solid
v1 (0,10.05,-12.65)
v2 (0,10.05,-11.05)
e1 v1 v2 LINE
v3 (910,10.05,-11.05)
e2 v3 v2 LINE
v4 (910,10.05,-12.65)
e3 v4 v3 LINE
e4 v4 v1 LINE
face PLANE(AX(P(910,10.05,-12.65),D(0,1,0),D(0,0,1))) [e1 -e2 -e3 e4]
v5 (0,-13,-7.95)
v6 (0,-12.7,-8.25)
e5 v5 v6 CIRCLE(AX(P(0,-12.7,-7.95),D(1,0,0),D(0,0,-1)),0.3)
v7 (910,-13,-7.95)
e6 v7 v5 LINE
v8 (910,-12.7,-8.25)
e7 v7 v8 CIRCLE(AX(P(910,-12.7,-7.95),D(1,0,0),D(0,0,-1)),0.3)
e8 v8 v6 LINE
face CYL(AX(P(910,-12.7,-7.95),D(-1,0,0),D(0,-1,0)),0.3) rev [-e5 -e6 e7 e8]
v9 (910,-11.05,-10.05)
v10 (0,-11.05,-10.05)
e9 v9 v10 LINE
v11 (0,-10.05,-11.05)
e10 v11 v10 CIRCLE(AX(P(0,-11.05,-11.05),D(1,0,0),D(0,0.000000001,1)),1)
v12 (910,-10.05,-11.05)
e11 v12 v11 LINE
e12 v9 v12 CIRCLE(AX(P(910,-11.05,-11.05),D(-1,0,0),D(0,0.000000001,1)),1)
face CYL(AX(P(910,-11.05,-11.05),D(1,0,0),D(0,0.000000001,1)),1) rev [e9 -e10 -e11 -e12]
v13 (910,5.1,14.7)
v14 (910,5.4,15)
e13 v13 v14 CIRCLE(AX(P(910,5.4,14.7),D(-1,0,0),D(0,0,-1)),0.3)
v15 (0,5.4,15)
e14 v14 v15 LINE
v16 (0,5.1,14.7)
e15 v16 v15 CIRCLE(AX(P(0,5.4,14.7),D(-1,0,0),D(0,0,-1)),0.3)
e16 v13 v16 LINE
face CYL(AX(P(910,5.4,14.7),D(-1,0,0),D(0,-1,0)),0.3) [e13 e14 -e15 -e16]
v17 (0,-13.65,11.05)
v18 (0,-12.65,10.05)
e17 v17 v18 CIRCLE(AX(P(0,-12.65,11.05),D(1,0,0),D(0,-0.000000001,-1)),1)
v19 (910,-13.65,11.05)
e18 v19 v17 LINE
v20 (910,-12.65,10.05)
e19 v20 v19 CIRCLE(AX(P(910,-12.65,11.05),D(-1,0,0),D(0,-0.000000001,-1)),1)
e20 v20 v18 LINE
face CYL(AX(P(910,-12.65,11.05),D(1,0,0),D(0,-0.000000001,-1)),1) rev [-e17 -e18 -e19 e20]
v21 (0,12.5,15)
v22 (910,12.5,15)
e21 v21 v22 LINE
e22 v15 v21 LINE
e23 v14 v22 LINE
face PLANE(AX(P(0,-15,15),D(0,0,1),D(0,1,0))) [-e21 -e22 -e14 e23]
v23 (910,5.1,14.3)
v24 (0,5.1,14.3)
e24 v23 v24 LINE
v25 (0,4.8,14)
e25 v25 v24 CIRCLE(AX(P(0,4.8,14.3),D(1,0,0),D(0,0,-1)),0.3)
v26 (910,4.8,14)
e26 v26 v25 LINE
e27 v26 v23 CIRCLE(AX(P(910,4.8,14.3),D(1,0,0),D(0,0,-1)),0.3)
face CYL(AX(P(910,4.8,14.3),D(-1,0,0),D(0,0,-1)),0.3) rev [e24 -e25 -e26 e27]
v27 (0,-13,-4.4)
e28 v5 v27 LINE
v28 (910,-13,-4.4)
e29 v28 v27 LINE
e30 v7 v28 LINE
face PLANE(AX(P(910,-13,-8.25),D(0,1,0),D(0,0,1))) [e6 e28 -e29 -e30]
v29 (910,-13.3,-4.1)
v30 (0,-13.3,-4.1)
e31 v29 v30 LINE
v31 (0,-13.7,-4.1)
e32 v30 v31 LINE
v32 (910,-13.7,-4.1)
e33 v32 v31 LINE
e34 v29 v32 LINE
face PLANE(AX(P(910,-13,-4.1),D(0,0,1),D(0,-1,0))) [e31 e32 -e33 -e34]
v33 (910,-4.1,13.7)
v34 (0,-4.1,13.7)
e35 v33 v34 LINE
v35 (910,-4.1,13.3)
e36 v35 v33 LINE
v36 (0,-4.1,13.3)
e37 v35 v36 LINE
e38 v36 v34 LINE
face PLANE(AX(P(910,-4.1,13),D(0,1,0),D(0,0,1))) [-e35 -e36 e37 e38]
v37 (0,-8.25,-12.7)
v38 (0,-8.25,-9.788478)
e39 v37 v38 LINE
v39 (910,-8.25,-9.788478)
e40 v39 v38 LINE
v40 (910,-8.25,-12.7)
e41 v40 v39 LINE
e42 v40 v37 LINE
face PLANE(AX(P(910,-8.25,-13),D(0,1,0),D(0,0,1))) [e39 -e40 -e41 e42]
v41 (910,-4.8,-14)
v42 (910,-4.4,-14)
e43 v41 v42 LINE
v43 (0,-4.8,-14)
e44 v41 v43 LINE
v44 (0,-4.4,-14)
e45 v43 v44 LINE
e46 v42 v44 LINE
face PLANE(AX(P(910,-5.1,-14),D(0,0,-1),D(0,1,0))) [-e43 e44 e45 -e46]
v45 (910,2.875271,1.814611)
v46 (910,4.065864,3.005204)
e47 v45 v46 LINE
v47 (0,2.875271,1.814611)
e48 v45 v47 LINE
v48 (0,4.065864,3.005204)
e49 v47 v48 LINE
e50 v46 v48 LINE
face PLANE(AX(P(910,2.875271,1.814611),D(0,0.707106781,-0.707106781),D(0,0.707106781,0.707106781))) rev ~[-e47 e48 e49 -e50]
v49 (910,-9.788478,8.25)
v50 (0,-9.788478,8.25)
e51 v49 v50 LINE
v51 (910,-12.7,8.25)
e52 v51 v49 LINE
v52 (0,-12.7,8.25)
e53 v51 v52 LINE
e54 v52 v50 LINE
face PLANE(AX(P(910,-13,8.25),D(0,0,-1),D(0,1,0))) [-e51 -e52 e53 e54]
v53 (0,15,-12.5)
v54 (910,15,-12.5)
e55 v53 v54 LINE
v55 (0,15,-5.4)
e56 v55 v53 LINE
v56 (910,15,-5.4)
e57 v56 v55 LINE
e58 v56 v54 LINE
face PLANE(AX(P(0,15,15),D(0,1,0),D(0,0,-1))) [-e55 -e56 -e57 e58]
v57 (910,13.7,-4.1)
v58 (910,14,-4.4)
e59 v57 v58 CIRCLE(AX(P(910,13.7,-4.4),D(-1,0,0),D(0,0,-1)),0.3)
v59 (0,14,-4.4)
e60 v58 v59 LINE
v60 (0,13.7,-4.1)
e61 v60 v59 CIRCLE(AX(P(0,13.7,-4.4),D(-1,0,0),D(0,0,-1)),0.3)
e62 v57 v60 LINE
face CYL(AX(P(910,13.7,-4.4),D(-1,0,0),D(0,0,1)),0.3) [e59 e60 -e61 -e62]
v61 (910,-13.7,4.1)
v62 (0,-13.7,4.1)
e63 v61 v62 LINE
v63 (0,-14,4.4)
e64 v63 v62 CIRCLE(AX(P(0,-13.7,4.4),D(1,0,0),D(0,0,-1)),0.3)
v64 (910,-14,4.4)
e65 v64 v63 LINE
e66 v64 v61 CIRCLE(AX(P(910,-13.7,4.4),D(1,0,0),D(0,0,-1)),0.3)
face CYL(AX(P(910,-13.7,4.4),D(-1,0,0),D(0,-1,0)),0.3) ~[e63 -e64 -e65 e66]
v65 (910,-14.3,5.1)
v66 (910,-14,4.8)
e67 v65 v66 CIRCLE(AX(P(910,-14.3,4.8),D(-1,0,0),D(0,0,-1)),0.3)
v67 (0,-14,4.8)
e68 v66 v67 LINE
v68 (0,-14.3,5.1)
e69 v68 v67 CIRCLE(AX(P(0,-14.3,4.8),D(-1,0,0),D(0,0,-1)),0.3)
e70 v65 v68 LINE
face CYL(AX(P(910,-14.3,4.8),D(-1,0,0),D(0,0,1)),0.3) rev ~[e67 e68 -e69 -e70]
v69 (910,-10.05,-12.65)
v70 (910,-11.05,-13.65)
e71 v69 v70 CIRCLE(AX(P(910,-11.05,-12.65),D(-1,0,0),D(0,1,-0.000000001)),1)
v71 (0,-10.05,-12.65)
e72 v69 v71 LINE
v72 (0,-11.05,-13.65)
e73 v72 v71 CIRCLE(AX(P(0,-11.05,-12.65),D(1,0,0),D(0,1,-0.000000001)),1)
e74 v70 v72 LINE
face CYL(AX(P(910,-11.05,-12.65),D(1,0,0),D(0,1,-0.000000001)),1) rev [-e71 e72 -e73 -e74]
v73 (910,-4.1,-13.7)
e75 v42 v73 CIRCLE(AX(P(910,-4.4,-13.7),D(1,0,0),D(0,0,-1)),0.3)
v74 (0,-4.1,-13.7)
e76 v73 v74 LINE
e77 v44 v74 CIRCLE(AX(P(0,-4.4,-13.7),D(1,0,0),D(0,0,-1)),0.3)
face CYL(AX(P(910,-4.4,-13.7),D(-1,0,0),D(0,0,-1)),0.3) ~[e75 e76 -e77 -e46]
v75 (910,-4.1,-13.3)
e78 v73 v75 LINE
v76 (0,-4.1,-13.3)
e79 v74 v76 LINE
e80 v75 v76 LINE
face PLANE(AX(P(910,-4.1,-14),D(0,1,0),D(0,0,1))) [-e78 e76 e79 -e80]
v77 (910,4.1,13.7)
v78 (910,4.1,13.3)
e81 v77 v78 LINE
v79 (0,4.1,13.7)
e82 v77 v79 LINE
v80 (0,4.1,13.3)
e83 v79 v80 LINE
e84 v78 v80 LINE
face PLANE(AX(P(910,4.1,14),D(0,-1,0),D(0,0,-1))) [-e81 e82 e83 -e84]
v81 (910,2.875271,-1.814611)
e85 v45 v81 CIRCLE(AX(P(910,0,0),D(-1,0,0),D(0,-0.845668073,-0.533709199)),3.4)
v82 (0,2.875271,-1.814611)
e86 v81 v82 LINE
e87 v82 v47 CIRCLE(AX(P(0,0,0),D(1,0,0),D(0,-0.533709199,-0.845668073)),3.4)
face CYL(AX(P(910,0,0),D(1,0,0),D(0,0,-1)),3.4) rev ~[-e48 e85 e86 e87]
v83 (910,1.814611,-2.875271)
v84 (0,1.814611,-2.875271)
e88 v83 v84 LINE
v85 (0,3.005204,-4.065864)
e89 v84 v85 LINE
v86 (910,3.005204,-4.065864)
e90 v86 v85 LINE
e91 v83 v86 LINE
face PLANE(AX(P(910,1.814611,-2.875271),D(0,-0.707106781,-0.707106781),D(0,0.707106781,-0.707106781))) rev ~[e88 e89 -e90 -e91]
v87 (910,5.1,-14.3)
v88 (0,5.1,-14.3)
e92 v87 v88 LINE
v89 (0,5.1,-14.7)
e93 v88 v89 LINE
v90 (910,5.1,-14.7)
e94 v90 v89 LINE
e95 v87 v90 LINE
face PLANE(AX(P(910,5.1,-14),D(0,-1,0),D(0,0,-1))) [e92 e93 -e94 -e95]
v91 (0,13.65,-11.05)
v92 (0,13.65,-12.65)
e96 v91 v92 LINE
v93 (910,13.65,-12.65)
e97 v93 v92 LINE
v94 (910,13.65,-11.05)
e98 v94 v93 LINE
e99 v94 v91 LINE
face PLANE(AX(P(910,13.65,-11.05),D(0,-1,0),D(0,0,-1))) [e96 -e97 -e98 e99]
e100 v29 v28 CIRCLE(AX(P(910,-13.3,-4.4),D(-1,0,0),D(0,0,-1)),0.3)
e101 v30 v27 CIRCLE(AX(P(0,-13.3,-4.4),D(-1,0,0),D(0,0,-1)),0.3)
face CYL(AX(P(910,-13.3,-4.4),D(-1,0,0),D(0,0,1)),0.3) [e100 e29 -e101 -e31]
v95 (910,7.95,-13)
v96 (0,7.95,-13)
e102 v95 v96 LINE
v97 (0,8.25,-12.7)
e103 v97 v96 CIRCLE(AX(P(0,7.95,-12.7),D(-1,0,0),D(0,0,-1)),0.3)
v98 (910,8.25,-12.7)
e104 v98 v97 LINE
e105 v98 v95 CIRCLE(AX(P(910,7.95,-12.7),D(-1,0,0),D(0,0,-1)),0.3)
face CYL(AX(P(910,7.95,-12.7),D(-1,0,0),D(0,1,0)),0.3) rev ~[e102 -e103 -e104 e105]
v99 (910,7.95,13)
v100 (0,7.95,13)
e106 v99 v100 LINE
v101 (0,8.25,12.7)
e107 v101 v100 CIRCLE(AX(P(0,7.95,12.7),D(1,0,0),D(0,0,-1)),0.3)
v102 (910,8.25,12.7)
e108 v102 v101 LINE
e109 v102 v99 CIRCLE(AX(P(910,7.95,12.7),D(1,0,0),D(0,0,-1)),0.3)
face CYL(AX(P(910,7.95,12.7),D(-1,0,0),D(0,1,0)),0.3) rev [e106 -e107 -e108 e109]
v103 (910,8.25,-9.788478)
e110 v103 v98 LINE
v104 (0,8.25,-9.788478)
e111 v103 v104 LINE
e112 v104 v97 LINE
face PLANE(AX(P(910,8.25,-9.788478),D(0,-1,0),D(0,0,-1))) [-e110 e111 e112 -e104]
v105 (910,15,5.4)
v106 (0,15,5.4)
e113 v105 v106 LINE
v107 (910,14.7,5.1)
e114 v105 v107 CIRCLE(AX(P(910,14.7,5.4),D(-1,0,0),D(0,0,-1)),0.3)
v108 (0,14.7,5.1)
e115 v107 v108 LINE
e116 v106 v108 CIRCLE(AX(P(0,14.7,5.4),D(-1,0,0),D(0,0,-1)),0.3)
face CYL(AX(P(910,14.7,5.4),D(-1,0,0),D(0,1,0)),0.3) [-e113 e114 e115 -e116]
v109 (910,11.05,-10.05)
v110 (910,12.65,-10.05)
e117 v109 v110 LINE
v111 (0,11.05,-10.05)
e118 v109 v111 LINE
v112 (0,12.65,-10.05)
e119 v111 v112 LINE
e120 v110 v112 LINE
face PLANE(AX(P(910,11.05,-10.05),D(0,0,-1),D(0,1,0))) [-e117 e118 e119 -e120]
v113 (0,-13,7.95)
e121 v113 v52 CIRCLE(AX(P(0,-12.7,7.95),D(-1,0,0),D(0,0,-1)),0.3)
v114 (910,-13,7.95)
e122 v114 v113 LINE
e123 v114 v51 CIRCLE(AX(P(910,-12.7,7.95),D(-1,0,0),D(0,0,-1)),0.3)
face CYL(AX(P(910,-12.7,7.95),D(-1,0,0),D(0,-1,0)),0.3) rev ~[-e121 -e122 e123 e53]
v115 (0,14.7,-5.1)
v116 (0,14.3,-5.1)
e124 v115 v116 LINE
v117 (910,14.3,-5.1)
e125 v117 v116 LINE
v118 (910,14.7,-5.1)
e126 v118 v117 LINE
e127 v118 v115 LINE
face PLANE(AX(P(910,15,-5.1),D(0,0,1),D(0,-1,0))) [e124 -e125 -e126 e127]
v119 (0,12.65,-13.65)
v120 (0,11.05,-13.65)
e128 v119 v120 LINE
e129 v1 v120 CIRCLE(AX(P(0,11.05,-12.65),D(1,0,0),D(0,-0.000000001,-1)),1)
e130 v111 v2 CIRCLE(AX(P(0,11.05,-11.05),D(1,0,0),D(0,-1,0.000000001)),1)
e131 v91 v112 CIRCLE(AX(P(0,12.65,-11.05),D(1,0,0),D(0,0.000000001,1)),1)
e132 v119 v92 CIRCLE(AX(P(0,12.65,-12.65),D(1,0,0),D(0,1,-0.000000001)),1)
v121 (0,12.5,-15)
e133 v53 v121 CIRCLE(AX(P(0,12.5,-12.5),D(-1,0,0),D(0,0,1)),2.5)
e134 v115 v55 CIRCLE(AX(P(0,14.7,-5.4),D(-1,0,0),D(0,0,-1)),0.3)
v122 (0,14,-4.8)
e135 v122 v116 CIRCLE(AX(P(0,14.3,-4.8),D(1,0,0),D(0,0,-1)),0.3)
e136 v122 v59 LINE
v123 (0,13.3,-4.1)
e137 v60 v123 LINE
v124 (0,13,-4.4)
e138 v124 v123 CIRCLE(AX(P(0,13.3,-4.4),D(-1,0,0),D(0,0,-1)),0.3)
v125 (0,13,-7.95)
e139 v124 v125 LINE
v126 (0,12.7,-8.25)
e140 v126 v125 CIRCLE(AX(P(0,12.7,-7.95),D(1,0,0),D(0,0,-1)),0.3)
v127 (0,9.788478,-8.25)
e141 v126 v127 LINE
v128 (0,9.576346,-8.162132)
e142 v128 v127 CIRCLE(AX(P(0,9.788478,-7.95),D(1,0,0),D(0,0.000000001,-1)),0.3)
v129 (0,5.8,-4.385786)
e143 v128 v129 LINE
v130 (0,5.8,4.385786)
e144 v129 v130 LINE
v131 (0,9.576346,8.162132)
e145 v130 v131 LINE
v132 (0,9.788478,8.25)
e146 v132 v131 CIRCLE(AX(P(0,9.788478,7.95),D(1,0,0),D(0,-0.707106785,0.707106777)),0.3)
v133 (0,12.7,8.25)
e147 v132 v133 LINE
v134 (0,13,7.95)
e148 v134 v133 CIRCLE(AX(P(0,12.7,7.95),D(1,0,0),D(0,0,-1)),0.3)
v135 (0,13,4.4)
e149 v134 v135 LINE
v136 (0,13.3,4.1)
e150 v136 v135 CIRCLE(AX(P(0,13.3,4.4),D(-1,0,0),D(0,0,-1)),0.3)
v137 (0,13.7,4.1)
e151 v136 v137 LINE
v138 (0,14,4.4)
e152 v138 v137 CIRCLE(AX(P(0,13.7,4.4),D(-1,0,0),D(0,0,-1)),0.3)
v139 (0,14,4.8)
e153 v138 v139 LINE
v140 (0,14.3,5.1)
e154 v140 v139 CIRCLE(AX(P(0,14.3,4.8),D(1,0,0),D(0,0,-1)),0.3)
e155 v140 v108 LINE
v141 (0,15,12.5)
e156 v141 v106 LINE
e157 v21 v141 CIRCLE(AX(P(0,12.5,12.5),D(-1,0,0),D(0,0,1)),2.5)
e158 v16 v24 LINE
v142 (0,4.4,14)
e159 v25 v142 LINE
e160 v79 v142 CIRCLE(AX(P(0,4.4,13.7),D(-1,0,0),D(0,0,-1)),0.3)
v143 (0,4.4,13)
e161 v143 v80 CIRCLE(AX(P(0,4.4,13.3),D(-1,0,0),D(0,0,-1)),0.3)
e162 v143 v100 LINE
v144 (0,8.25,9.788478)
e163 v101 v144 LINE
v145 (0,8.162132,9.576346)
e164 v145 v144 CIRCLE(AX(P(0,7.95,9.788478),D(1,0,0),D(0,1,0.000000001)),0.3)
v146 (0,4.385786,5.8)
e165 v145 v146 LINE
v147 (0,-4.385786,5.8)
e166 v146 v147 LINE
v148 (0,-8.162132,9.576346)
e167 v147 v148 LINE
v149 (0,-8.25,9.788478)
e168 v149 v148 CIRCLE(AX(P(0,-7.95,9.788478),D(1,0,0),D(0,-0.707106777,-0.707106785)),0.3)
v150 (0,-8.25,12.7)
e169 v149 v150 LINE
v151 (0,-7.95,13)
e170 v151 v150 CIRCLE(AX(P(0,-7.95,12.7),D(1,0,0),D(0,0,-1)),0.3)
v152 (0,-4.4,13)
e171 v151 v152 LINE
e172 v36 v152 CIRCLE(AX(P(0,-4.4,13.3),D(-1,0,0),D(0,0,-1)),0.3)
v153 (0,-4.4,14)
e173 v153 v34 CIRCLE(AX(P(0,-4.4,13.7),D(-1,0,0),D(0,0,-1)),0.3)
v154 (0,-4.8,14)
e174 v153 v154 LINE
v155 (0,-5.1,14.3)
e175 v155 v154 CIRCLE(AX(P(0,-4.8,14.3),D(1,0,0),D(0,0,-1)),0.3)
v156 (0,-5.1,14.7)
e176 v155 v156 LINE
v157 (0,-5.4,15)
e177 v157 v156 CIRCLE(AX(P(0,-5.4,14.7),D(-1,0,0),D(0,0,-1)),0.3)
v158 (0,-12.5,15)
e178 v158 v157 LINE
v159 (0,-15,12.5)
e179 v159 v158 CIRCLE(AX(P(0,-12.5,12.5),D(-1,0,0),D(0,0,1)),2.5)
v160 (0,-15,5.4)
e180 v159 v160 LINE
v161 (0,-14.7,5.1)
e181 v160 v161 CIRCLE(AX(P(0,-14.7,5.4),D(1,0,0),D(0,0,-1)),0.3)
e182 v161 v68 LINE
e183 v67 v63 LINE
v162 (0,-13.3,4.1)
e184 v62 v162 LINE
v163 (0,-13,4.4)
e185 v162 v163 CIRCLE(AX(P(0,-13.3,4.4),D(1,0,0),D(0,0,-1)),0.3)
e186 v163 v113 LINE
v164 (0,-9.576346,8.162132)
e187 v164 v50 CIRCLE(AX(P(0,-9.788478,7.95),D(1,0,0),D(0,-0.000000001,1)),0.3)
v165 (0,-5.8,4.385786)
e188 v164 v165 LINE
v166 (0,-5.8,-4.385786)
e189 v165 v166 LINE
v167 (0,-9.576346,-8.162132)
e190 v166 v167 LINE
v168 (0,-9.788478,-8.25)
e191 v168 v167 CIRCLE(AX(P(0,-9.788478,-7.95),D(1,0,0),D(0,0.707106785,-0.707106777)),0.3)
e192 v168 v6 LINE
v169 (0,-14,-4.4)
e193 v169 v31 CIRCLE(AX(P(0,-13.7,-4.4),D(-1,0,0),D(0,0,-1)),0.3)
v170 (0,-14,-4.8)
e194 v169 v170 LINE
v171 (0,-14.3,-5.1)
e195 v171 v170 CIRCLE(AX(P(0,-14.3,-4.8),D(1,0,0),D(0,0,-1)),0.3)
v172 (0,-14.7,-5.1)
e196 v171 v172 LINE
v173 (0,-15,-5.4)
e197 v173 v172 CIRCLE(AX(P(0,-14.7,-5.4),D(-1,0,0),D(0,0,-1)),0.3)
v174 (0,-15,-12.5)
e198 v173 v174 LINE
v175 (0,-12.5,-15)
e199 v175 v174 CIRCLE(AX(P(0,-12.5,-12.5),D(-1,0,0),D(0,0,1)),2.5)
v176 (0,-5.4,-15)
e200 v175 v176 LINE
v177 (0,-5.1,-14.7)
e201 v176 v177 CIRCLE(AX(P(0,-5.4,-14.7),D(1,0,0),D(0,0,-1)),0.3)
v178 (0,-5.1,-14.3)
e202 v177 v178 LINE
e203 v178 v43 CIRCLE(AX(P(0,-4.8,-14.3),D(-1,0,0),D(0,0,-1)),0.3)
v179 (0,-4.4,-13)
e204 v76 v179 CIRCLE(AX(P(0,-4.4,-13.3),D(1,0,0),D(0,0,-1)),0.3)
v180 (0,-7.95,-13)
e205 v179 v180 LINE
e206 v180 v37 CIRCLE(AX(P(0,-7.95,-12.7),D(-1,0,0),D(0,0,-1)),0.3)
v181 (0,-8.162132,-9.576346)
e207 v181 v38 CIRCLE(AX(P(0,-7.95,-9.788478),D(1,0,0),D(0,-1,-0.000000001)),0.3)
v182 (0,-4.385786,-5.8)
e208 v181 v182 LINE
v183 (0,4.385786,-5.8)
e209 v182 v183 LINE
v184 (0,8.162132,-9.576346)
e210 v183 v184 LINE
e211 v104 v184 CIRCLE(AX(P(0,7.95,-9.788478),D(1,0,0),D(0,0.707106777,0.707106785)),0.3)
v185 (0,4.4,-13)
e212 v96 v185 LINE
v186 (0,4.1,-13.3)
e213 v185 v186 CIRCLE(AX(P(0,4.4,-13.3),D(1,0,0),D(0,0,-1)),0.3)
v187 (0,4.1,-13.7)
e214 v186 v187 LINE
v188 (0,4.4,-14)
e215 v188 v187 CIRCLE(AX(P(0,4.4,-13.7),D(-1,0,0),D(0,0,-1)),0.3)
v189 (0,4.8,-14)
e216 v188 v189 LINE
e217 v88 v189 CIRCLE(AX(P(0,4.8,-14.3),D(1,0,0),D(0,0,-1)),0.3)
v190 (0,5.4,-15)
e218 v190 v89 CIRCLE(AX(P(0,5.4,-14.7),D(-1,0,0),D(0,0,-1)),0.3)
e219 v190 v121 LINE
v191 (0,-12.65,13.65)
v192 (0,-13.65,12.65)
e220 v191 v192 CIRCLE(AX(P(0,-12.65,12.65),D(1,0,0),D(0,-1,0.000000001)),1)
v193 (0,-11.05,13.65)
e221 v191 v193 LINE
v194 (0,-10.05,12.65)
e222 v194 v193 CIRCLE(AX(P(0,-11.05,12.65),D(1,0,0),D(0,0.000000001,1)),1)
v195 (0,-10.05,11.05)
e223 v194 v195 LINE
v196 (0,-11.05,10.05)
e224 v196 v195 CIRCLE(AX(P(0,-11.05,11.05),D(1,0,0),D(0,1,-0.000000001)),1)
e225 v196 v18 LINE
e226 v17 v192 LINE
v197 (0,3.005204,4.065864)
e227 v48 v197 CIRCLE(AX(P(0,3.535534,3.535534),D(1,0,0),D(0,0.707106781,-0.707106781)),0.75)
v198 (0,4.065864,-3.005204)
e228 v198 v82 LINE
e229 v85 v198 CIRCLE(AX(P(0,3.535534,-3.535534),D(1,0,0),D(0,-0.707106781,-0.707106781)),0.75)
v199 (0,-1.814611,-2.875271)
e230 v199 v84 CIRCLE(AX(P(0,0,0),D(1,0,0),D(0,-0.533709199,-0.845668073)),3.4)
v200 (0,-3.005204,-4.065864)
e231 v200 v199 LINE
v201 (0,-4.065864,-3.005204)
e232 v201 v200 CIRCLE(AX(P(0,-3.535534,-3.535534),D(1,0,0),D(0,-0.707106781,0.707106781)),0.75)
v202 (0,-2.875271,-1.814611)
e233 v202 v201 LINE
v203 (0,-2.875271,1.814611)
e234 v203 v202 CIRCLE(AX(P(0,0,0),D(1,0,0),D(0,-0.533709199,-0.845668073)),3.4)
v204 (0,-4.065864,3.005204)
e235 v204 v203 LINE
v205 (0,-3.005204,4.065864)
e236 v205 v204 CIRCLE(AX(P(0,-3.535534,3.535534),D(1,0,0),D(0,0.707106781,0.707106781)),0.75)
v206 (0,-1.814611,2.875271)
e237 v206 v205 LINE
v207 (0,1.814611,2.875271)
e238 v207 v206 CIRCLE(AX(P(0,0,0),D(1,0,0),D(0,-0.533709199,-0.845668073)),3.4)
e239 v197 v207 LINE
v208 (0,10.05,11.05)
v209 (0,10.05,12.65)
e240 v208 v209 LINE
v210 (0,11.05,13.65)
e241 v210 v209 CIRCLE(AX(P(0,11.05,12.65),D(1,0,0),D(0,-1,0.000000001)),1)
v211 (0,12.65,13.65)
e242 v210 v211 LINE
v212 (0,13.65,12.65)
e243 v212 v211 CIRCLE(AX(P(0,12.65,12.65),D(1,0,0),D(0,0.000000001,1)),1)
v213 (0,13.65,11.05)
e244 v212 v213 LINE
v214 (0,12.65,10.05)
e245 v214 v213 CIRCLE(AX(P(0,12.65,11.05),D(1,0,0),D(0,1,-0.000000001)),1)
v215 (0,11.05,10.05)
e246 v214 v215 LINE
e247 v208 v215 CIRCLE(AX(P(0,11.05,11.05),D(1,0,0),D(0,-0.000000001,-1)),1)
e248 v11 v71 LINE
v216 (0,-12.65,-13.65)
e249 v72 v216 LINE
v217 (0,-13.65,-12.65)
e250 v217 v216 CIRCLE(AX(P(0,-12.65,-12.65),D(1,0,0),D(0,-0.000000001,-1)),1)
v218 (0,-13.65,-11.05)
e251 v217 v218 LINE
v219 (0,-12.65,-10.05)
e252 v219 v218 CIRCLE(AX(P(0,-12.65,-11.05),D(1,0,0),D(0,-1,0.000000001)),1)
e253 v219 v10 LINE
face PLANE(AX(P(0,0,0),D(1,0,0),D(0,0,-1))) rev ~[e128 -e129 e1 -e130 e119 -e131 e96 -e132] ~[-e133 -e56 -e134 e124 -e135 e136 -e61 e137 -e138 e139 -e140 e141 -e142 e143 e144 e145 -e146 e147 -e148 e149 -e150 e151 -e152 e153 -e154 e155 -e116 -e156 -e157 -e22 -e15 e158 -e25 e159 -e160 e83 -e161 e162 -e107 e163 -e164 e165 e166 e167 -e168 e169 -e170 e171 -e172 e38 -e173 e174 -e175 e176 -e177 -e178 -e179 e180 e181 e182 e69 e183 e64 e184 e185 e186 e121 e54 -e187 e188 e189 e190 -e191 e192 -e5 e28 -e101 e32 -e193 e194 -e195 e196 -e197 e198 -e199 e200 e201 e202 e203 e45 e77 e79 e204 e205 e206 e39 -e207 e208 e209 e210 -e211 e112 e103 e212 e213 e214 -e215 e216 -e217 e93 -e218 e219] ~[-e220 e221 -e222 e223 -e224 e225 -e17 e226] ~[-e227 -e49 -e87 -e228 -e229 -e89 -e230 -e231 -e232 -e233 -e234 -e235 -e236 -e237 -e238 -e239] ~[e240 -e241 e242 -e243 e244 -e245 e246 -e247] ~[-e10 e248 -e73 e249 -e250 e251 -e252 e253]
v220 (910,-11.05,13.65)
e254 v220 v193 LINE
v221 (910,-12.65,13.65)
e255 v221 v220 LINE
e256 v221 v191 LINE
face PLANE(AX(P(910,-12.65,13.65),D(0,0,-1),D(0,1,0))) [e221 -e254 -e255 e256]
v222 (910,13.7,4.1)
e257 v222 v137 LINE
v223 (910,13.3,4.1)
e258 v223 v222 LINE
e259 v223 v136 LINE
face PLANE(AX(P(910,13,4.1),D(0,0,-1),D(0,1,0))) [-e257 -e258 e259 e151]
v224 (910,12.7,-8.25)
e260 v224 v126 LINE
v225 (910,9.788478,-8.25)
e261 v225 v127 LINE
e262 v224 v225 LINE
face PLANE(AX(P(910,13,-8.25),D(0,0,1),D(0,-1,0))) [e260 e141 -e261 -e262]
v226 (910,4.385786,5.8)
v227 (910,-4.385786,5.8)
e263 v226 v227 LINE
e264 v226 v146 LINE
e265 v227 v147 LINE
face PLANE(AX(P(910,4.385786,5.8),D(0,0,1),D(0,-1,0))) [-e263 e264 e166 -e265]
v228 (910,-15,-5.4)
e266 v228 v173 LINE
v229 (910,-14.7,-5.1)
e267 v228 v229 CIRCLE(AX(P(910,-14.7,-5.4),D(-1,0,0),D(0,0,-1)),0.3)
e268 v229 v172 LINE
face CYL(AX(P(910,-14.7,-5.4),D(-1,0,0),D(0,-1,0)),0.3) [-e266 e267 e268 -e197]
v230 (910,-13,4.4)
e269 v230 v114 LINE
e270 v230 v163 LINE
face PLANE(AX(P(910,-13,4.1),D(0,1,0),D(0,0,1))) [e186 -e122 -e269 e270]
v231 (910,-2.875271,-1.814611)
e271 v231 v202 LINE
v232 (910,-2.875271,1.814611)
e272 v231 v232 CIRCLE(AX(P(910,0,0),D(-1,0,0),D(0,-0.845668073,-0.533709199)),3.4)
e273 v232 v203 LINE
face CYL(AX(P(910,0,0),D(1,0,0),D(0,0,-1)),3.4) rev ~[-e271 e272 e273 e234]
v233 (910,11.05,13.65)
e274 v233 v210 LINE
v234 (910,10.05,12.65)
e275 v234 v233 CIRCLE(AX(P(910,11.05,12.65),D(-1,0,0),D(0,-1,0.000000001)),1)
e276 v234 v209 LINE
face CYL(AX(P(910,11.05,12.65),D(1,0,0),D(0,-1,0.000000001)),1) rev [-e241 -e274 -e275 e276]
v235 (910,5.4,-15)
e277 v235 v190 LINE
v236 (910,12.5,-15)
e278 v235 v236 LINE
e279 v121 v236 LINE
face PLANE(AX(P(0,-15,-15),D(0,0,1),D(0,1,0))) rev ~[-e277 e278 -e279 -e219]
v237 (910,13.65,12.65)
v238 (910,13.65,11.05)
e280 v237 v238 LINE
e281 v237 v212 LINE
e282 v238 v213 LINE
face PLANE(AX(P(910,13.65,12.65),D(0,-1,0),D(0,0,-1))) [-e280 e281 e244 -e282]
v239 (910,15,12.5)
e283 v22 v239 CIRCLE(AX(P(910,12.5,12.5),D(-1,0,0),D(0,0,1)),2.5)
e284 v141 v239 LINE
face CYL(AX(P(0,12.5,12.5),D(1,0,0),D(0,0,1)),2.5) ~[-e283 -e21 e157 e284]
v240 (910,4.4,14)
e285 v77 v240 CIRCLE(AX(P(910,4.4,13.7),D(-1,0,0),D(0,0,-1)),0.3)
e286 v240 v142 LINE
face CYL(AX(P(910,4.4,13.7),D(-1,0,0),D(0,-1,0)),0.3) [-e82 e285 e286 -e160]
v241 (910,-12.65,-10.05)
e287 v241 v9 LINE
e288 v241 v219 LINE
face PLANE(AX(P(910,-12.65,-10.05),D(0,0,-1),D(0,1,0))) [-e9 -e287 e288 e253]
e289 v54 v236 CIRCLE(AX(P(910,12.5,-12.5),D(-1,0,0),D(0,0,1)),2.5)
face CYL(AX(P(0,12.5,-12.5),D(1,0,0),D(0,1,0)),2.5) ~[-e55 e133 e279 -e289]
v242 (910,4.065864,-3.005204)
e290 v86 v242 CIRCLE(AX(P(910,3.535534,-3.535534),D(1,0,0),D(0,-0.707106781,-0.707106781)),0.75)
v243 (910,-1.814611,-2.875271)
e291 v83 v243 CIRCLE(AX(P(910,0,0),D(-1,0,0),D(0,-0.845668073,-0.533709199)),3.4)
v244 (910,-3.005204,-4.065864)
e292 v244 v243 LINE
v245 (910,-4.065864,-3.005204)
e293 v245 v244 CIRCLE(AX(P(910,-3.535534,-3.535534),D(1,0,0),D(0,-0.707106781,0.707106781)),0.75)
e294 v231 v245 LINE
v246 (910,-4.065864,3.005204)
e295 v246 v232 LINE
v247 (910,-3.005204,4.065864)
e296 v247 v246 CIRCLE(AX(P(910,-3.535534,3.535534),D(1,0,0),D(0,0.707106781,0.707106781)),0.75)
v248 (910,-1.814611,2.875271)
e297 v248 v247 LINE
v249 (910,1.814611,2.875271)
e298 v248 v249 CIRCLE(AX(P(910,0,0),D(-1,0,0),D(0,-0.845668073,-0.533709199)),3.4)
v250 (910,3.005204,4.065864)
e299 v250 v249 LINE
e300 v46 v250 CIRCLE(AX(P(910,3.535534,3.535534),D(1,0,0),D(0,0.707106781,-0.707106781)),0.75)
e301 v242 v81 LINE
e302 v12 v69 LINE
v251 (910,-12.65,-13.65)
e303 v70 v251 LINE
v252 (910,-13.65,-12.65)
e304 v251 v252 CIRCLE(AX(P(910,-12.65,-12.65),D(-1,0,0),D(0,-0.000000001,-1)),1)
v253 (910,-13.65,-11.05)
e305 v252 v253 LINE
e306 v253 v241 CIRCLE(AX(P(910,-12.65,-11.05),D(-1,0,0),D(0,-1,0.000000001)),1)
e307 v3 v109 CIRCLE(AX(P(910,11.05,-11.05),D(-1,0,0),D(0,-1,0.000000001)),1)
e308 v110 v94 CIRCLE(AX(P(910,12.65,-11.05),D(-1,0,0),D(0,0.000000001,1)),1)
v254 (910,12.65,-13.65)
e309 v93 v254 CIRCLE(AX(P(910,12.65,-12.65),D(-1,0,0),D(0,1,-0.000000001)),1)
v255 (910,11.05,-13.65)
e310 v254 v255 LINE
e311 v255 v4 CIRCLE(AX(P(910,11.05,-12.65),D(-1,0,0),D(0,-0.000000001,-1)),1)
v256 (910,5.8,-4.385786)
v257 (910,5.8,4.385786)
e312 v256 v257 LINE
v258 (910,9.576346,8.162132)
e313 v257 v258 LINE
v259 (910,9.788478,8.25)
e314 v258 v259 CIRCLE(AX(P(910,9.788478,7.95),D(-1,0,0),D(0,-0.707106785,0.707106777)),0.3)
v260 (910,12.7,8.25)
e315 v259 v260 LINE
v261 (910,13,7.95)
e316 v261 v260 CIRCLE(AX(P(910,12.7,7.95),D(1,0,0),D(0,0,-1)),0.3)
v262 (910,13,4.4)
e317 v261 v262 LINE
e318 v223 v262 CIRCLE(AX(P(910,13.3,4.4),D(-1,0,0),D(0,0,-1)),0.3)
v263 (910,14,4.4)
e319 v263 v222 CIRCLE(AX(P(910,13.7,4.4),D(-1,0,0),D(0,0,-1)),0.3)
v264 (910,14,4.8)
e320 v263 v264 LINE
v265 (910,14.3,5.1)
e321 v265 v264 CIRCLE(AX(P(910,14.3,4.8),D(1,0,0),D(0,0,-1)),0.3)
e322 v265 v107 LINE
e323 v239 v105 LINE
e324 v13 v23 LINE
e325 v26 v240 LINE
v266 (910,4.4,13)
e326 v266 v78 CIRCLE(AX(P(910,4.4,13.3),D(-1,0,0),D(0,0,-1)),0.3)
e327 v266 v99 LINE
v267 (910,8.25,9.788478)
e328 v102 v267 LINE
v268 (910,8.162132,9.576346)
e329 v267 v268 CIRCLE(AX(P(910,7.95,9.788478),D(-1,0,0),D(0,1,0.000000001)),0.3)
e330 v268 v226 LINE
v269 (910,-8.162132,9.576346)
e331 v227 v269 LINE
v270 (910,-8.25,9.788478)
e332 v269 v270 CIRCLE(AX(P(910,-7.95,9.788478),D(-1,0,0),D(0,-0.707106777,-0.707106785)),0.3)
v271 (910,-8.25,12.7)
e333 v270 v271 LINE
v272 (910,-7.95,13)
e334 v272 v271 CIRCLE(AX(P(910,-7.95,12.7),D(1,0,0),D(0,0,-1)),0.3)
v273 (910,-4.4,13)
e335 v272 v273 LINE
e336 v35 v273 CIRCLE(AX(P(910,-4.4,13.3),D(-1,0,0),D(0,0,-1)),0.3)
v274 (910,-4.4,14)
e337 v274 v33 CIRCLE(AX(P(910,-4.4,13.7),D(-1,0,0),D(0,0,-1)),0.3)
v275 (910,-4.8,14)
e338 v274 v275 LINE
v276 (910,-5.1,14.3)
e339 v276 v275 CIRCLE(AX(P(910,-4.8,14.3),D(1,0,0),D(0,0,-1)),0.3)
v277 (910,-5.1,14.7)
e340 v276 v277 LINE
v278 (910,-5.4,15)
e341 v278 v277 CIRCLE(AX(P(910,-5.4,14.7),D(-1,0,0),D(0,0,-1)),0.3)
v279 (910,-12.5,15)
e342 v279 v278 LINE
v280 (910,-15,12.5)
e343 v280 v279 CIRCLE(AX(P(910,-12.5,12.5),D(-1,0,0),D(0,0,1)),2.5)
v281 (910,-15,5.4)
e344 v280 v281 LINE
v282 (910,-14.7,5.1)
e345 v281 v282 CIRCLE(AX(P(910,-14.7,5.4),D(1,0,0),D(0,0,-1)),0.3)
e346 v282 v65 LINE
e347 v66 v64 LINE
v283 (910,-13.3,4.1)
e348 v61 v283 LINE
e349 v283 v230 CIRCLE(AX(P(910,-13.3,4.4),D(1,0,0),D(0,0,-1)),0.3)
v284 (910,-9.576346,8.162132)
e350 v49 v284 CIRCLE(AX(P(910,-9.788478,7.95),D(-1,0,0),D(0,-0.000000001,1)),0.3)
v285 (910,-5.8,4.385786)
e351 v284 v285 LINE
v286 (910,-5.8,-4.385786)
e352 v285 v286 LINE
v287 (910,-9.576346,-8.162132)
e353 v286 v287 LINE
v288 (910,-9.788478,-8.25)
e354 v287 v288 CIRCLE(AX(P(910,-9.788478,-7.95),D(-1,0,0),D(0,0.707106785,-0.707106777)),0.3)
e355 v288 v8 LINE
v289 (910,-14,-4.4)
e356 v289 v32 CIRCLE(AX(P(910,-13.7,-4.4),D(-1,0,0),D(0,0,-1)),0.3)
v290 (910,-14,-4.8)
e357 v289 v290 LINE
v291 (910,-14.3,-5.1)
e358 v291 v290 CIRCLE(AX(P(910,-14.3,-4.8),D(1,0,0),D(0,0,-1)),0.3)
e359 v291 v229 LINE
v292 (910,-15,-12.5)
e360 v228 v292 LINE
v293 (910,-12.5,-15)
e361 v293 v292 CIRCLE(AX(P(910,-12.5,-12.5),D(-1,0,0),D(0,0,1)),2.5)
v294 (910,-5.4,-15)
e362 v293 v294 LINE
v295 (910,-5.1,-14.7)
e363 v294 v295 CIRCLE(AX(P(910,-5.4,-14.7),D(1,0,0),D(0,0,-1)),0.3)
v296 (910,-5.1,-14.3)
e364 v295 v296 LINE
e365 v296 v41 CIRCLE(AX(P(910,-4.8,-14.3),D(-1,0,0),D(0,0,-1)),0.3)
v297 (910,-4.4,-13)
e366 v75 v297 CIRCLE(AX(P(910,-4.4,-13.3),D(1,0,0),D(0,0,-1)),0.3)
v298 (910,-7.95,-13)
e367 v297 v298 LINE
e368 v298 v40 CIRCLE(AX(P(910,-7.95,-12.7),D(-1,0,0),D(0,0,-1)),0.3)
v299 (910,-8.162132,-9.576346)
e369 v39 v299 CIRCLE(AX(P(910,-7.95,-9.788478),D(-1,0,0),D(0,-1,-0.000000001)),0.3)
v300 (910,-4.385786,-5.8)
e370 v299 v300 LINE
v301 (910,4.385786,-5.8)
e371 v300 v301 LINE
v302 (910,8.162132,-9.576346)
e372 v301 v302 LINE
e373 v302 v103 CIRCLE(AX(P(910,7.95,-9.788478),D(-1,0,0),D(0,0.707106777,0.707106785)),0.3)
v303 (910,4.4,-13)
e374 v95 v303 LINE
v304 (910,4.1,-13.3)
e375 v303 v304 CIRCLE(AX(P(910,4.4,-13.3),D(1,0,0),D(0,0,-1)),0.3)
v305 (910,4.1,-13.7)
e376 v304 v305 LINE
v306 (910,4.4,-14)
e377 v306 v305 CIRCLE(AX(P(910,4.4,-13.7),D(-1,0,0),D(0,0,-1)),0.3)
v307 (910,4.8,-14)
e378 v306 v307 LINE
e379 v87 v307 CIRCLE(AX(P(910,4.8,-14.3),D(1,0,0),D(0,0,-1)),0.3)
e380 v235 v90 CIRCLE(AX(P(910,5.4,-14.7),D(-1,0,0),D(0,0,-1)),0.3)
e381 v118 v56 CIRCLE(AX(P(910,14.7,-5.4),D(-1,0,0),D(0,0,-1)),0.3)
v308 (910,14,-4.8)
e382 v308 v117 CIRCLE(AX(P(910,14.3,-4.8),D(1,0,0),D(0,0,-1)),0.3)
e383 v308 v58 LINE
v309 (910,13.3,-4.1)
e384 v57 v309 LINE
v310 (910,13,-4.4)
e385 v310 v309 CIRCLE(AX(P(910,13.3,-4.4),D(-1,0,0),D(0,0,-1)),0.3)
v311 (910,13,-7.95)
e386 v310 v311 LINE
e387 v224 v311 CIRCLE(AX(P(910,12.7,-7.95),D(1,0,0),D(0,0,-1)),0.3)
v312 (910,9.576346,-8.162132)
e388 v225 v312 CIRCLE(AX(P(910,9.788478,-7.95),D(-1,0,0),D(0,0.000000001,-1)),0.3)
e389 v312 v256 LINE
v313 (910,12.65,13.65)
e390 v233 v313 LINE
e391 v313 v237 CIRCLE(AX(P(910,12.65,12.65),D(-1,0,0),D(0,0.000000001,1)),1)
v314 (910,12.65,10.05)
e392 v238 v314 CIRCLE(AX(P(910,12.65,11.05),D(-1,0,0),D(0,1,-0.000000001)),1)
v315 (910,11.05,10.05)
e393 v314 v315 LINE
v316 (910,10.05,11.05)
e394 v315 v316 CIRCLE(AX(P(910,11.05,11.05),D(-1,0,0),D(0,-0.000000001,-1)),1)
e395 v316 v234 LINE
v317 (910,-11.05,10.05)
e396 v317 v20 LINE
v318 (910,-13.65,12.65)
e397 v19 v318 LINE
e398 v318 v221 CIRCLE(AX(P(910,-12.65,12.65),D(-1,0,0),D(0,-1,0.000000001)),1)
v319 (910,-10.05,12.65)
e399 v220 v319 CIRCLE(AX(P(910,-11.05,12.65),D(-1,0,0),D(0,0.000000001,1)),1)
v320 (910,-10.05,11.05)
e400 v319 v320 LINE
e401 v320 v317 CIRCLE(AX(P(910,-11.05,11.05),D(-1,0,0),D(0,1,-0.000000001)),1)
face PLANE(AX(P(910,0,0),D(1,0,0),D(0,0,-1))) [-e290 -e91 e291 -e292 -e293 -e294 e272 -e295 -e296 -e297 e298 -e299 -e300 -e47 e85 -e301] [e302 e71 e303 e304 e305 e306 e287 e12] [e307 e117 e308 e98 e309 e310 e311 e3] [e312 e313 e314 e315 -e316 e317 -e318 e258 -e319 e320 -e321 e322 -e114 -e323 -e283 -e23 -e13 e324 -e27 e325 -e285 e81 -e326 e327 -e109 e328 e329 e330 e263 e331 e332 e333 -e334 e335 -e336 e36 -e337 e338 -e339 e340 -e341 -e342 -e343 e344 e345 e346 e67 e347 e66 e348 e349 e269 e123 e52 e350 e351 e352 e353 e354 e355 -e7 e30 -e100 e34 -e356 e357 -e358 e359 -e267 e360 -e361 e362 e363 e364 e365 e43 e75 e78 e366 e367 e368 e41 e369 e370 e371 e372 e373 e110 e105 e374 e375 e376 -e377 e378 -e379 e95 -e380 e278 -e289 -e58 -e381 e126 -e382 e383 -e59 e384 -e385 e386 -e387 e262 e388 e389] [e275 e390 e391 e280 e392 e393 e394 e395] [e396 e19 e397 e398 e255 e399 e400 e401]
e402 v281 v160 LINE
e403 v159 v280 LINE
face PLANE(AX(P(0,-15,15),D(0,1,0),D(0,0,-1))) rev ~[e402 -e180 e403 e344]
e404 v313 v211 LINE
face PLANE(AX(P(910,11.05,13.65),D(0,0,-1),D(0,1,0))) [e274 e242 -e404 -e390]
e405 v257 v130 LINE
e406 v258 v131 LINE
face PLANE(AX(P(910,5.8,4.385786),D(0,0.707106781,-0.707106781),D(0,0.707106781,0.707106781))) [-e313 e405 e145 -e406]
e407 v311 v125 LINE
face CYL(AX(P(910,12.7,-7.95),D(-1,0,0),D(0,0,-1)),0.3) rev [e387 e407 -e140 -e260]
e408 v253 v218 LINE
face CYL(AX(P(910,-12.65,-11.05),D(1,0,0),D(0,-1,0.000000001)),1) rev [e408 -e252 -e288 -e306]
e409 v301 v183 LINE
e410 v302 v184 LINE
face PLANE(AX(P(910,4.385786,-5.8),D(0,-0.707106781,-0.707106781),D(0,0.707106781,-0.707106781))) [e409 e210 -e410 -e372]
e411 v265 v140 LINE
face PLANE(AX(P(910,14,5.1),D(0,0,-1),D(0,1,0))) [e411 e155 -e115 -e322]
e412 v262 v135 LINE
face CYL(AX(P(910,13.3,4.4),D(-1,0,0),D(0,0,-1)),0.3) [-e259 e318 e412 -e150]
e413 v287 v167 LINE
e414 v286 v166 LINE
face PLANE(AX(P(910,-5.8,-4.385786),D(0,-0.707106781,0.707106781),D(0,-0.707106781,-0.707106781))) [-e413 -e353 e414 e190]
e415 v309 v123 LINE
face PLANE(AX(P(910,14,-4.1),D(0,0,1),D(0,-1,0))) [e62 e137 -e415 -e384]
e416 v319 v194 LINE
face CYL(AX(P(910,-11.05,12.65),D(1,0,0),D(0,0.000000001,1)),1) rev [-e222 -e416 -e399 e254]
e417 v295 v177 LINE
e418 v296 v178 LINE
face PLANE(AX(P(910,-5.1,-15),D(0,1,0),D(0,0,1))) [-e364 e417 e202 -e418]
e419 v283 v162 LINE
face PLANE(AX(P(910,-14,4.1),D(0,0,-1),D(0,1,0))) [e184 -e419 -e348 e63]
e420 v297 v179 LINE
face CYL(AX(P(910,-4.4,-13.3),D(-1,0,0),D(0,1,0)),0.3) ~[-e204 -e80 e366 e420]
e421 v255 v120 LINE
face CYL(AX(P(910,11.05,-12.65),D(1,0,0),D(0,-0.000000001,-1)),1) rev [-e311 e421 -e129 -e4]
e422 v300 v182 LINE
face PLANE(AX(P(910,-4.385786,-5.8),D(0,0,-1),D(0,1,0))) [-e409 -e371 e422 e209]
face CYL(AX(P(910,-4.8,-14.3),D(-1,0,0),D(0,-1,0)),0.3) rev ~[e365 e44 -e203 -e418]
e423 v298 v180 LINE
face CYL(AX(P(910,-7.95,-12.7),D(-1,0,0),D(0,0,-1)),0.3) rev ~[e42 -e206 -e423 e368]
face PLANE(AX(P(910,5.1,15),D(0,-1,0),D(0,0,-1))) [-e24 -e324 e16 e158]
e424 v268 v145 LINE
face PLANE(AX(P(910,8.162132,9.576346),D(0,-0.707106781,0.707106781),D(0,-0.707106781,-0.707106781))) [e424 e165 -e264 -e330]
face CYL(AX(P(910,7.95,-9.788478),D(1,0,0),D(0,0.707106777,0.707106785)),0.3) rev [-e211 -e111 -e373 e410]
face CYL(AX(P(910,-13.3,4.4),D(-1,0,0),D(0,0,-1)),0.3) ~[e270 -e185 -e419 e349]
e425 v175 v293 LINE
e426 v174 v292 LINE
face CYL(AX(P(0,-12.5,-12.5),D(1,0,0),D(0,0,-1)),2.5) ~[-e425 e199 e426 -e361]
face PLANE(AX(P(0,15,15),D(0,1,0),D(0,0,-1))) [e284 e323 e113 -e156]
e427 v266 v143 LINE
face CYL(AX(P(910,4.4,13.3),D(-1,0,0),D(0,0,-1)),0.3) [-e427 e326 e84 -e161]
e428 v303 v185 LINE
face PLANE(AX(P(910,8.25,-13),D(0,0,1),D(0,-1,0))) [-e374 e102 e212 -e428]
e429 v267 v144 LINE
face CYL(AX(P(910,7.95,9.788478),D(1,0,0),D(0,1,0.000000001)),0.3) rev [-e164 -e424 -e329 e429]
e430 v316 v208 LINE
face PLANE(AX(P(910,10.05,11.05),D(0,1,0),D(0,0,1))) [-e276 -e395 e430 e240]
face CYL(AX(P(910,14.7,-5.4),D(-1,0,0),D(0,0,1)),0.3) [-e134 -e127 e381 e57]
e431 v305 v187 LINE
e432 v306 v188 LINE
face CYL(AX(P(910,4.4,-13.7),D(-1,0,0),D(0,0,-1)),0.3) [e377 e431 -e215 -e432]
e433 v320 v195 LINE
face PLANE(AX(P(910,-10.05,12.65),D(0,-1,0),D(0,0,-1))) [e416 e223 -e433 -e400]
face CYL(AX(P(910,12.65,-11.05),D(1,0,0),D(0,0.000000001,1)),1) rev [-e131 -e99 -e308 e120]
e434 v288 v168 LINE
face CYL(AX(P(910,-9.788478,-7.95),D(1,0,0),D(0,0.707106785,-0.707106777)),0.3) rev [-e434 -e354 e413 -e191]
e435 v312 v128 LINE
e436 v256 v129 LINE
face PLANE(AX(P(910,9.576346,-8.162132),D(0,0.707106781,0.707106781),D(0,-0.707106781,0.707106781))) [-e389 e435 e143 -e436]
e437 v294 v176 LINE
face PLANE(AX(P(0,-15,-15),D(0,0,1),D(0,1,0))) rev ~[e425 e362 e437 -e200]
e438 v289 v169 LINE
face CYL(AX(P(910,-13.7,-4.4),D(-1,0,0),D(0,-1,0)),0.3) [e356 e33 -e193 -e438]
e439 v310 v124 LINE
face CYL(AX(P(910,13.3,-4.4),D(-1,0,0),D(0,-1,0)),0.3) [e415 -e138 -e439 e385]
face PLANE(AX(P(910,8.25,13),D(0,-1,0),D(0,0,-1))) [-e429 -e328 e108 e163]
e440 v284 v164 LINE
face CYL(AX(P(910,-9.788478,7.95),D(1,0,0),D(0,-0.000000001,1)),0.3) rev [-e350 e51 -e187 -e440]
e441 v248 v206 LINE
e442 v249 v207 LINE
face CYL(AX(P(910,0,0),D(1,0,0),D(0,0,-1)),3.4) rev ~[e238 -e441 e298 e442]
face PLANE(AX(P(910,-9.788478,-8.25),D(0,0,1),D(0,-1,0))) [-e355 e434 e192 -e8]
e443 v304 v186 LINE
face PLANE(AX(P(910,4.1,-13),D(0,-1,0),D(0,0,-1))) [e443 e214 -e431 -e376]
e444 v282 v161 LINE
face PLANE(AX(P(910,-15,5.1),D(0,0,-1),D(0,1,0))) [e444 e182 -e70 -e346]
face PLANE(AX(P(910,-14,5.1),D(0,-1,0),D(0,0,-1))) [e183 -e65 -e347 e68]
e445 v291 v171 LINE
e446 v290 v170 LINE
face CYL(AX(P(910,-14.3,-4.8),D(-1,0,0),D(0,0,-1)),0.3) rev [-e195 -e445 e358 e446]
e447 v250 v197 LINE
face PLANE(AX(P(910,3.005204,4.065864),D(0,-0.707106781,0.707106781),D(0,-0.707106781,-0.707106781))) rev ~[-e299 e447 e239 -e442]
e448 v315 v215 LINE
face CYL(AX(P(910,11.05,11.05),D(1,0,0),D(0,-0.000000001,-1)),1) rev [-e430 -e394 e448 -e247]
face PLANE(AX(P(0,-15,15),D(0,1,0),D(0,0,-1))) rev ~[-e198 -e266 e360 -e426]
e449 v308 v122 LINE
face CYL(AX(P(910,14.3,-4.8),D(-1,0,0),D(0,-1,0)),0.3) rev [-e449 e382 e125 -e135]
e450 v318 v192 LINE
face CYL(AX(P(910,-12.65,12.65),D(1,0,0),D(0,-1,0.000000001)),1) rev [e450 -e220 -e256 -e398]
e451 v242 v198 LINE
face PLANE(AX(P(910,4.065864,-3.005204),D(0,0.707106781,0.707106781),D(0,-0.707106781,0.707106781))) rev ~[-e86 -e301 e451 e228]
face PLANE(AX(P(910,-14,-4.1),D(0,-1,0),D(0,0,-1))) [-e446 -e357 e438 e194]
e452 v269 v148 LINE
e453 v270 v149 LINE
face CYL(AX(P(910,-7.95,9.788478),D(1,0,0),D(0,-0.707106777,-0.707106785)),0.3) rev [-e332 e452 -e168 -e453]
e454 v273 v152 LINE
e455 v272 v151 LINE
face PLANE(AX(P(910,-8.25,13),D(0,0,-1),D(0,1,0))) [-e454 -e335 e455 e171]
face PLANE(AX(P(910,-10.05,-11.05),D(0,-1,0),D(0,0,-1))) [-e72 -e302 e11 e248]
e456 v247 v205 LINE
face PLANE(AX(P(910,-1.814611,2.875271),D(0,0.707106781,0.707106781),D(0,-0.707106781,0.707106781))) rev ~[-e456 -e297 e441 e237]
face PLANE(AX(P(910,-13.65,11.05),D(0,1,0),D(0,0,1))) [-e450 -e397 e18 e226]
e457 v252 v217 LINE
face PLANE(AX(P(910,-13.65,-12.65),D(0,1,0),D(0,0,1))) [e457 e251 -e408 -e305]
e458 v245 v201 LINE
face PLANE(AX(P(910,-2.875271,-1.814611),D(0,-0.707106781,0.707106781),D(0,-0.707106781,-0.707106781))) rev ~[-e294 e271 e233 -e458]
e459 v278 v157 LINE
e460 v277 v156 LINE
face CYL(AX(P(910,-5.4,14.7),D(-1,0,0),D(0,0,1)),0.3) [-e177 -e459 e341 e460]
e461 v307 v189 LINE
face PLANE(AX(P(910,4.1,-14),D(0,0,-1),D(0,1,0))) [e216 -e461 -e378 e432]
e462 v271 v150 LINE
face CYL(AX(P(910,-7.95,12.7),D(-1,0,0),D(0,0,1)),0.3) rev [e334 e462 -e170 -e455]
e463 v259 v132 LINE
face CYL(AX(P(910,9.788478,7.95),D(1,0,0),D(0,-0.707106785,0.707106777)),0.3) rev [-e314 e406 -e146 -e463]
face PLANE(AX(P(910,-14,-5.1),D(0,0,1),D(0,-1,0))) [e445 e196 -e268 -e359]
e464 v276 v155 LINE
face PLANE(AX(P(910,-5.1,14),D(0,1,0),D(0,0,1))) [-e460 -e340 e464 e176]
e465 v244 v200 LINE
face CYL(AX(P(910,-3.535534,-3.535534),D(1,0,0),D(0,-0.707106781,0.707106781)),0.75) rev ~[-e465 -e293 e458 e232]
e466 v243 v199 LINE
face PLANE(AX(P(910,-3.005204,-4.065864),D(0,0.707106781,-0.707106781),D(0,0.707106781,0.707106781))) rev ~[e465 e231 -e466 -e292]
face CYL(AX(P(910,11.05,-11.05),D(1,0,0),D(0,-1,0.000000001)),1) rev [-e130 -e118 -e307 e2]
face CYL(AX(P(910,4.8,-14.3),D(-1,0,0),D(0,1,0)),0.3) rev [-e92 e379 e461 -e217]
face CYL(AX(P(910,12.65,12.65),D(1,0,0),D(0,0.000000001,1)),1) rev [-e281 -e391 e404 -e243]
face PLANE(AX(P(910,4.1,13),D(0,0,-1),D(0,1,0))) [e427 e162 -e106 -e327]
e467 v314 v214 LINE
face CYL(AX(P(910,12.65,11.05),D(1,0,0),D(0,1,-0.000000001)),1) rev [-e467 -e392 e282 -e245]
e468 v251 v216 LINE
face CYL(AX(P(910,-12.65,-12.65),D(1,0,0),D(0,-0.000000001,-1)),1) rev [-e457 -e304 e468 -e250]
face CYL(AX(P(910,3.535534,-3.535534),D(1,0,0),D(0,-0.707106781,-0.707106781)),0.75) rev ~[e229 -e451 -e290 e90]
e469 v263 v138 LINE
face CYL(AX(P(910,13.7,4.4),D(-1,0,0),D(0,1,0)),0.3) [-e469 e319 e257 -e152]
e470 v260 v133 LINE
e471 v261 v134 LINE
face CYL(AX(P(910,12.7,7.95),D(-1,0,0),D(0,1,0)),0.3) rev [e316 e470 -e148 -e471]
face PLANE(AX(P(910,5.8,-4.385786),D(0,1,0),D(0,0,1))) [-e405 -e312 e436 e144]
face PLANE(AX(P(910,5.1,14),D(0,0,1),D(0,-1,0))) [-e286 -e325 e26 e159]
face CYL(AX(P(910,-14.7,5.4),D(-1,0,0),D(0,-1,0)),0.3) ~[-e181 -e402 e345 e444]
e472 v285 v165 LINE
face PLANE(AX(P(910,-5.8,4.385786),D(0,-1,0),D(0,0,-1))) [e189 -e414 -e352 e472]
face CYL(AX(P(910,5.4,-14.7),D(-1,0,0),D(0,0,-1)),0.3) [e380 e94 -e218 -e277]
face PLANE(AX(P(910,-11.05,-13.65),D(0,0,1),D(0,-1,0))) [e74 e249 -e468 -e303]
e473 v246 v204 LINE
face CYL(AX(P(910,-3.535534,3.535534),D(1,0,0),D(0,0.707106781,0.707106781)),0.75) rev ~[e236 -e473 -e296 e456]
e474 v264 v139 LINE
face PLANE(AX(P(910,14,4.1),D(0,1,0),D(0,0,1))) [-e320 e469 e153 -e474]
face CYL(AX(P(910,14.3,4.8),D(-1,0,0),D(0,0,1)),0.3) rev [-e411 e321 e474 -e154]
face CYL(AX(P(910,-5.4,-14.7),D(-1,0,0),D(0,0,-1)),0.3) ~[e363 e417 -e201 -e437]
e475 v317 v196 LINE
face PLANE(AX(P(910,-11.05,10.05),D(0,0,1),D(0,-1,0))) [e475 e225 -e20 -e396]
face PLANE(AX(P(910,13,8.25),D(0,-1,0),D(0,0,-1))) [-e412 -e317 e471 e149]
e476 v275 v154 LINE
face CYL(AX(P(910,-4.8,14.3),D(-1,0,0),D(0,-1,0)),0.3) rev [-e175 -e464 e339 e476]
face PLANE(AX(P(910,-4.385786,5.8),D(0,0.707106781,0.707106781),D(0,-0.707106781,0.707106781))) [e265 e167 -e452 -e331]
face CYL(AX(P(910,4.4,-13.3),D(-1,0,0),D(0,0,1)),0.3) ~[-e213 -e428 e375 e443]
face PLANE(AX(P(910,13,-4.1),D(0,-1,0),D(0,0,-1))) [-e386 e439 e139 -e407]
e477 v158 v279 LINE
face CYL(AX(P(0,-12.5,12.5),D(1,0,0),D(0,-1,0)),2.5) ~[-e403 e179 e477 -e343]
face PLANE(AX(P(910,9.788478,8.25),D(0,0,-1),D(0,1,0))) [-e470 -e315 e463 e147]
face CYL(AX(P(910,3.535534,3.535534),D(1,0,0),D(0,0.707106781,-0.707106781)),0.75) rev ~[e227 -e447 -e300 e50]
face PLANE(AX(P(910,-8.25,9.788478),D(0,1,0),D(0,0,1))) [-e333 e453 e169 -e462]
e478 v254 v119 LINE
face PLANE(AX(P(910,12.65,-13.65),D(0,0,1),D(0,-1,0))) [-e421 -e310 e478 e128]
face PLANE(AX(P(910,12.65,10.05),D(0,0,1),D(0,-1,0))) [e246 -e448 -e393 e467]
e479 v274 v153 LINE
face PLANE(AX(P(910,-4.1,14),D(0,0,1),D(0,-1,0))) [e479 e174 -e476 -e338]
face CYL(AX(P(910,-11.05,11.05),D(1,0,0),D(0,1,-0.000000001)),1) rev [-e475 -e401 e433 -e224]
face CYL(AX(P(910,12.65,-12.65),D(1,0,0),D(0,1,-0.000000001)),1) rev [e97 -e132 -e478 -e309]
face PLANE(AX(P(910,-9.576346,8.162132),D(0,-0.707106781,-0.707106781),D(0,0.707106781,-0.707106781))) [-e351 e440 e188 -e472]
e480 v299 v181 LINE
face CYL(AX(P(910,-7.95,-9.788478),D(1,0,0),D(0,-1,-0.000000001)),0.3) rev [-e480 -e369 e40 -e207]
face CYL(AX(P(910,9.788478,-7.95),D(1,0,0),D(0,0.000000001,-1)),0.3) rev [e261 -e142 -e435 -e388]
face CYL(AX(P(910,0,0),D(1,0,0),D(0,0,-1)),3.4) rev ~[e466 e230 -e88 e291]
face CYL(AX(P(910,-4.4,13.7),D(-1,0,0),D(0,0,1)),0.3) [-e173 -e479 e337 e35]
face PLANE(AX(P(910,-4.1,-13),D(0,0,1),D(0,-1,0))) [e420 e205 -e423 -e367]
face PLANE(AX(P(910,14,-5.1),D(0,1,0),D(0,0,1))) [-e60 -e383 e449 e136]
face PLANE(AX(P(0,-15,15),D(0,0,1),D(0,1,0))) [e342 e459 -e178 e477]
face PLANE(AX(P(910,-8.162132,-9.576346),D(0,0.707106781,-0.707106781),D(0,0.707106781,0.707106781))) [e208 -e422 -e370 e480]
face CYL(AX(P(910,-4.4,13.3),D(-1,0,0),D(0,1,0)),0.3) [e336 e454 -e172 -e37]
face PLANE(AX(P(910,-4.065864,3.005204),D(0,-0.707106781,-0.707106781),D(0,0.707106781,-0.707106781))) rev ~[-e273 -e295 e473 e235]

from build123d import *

# Parameters (mm, degrees)
SKETCH2_W                = 30
SKETCH2_H                = 30
BOSS_EXTRUDE1_DEPTH      = 910
SKETCH5_R                = 3.4
CUT_EXTRUDE2_DEPTH       = 911.247219166
CUT_EXTRUDE1_DEPTH       = 911.247219166
FILLET1_R                = 2.5
FILLET2_R                = 0.3
CIRPATTERN1_COUNT        = 4
FILLET1_OF_CIRPATTERN1_R = 2.5
FILLET2_OF_CIRPATTERN1_R = 0.3


with BuildPart() as part:
    # Sketch2 → Boss-Extrude1 (new body)
    with BuildSketch(Plane(origin=(0, 0, 0), x_dir=(0, 0, -1), z_dir=(1, 0, 0))):
        Rectangle(SKETCH2_W, SKETCH2_H)
    extrude(amount=BOSS_EXTRUDE1_DEPTH)

    # Sketch5 → Cut-Extrude2 (cut, through all)
    with BuildSketch(Plane(origin=(910, 0, 0), x_dir=(0, 0, -1), z_dir=(1, 0, 0))):
        Circle(SKETCH5_R)
    extrude(amount=-CUT_EXTRUDE2_DEPTH, mode=Mode.SUBTRACT)

    # Sketch4 → Cut-Extrude1 (cut, through all)
    with BuildSketch(Plane(origin=(910, 0, 0), x_dir=(0, 0, -1), z_dir=(1, 0, 0))):
        with BuildLine():
            Line((-4.385786454, -5.8), (4.385786454, -5.8))
            Line((4.385786454, -5.8), (8.162132034, -9.57634558))
            ThreePointArc((8.162132034, -9.57634558), (8.22716386, -9.673672585), (8.25, -9.788477614))
            Line((8.25, -9.788477614), (8.25, -13))
            Line((8.25, -13), (4.1, -13))
            Line((4.1, -13), (4.1, -14))
            Line((4.1, -14), (5.1, -14))
            Line((5.1, -14), (5.1, -15))
            Line((5.1, -15), (-5.1, -15))
            Line((-5.1, -15), (-5.1, -14))
            Line((-5.1, -14), (-4.1, -14))
            Line((-4.1, -14), (-4.1, -13))
            Line((-4.1, -13), (-8.25, -13))
            Line((-8.25, -13), (-8.25, -9.788477614))
            ThreePointArc((-8.25, -9.788477614), (-8.22716386, -9.673672585), (-8.162132034, -9.57634558))
            Line((-8.162132034, -9.57634558), (-4.385786454, -5.8))
        make_face()
        with BuildLine():
            Line((11.05, -10.05), (12.65, -10.05))
            ThreePointArc((12.65, -10.05), (13.357106781, -10.342893219), (13.65, -11.05))
            Line((13.65, -11.05), (13.65, -12.65))
            ThreePointArc((13.65, -12.65), (13.357106781, -13.357106781), (12.65, -13.65))
            Line((12.65, -13.65), (11.05, -13.65))
            ThreePointArc((11.05, -13.65), (10.342893219, -13.357106781), (10.05, -12.65))
            Line((10.05, -12.65), (10.05, -11.05))
            ThreePointArc((10.05, -11.05), (10.342893219, -10.342893219), (11.05, -10.05))
        make_face()
        with BuildLine():
            Line((4.065863992, -3.00520382), (2.87527145, -1.814611278))
            ThreePointArc((2.87527145, -1.814611278), (2.404163056, -2.404163056), (1.814611278, -2.87527145))
            Line((1.814611278, -2.87527145), (3.00520382, -4.065863992))
            ThreePointArc((3.00520382, -4.065863992), (4.065863992, -4.065863992), (4.065863992, -3.00520382))
        make_face()
    cut_extrude1 = extrude(amount=-CUT_EXTRUDE1_DEPTH, mode=Mode.SUBTRACT)

    # Fillet1
    fillet1_edges = [part.edges().sort_by_distance(p)[0] for p in [
        (455, -15, -15),
    ]]
    fillet(fillet1_edges, radius=FILLET1_R)

    # Fillet2
    fillet2_edges = [part.edges().sort_by_distance(p)[0] for p in [
        (455, -13, -8.25),
        (455, -13, -4.1),
        (455, -14, -4.1),
        (455, -14, -5.1),
        (455, -15, -5.1),
        (455, -15, 5.1),
        (455, -14, 5.1),
        (455, -14, 4.1),
        (455, -13, 4.1),
        (455, -13, 8.25),
    ]]
    fillet(fillet2_edges, radius=FILLET2_R)

    # CirPattern1: Cut-Extrude1 ×4 about axis
    cirpattern1_axis = Axis((0, 0, 0), (1, 0, 0))
    for i in range(1, CIRPATTERN1_COUNT):
        add(cut_extrude1.rotate(cirpattern1_axis, i * 360 / CIRPATTERN1_COUNT), mode=Mode.SUBTRACT)

    # Fillet1 of CirPattern1
    fillet1_of_cirpattern1_edges = [part.edges().sort_by_distance(p)[0] for p in [
        (455, 15, -15),
        (455, 15, 15),
        (455, -15, 15),
    ]]
    fillet(fillet1_of_cirpattern1_edges, radius=FILLET1_OF_CIRPATTERN1_R)

    # Fillet2 of CirPattern1
    fillet2_of_cirpattern1_edges = [part.edges().sort_by_distance(p)[0] for p in [
        (455, 8.25, -13),
        (455, 4.1, -13),
        (455, 4.1, -14),
        (455, 5.1, -14),
        (455, 5.1, -15),
        (455, -5.1, -15),
        (455, -5.1, -14),
        (455, -4.1, -14),
        (455, -4.1, -13),
        (455, -8.25, -13),
        (455, 13, 8.25),
        (455, 13, 4.1),
        (455, 14, 4.1),
        (455, 14, 5.1),
        (455, 15, 5.1),
        (455, 15, -5.1),
        (455, 14, -5.1),
        (455, 14, -4.1),
        (455, 13, -4.1),
        (455, 13, -8.25),
        (455, -8.25, 13),
        (455, -4.1, 13),
        (455, -4.1, 14),
        (455, -5.1, 14),
        (455, -5.1, 15),
        (455, 5.1, 15),
        (455, 5.1, 14),
        (455, 4.1, 14),
        (455, 4.1, 13),
        (455, 8.25, 13),
    ]]
    fillet(fillet2_of_cirpattern1_edges, radius=FILLET2_OF_CIRPATTERN1_R)


solid = part.part
